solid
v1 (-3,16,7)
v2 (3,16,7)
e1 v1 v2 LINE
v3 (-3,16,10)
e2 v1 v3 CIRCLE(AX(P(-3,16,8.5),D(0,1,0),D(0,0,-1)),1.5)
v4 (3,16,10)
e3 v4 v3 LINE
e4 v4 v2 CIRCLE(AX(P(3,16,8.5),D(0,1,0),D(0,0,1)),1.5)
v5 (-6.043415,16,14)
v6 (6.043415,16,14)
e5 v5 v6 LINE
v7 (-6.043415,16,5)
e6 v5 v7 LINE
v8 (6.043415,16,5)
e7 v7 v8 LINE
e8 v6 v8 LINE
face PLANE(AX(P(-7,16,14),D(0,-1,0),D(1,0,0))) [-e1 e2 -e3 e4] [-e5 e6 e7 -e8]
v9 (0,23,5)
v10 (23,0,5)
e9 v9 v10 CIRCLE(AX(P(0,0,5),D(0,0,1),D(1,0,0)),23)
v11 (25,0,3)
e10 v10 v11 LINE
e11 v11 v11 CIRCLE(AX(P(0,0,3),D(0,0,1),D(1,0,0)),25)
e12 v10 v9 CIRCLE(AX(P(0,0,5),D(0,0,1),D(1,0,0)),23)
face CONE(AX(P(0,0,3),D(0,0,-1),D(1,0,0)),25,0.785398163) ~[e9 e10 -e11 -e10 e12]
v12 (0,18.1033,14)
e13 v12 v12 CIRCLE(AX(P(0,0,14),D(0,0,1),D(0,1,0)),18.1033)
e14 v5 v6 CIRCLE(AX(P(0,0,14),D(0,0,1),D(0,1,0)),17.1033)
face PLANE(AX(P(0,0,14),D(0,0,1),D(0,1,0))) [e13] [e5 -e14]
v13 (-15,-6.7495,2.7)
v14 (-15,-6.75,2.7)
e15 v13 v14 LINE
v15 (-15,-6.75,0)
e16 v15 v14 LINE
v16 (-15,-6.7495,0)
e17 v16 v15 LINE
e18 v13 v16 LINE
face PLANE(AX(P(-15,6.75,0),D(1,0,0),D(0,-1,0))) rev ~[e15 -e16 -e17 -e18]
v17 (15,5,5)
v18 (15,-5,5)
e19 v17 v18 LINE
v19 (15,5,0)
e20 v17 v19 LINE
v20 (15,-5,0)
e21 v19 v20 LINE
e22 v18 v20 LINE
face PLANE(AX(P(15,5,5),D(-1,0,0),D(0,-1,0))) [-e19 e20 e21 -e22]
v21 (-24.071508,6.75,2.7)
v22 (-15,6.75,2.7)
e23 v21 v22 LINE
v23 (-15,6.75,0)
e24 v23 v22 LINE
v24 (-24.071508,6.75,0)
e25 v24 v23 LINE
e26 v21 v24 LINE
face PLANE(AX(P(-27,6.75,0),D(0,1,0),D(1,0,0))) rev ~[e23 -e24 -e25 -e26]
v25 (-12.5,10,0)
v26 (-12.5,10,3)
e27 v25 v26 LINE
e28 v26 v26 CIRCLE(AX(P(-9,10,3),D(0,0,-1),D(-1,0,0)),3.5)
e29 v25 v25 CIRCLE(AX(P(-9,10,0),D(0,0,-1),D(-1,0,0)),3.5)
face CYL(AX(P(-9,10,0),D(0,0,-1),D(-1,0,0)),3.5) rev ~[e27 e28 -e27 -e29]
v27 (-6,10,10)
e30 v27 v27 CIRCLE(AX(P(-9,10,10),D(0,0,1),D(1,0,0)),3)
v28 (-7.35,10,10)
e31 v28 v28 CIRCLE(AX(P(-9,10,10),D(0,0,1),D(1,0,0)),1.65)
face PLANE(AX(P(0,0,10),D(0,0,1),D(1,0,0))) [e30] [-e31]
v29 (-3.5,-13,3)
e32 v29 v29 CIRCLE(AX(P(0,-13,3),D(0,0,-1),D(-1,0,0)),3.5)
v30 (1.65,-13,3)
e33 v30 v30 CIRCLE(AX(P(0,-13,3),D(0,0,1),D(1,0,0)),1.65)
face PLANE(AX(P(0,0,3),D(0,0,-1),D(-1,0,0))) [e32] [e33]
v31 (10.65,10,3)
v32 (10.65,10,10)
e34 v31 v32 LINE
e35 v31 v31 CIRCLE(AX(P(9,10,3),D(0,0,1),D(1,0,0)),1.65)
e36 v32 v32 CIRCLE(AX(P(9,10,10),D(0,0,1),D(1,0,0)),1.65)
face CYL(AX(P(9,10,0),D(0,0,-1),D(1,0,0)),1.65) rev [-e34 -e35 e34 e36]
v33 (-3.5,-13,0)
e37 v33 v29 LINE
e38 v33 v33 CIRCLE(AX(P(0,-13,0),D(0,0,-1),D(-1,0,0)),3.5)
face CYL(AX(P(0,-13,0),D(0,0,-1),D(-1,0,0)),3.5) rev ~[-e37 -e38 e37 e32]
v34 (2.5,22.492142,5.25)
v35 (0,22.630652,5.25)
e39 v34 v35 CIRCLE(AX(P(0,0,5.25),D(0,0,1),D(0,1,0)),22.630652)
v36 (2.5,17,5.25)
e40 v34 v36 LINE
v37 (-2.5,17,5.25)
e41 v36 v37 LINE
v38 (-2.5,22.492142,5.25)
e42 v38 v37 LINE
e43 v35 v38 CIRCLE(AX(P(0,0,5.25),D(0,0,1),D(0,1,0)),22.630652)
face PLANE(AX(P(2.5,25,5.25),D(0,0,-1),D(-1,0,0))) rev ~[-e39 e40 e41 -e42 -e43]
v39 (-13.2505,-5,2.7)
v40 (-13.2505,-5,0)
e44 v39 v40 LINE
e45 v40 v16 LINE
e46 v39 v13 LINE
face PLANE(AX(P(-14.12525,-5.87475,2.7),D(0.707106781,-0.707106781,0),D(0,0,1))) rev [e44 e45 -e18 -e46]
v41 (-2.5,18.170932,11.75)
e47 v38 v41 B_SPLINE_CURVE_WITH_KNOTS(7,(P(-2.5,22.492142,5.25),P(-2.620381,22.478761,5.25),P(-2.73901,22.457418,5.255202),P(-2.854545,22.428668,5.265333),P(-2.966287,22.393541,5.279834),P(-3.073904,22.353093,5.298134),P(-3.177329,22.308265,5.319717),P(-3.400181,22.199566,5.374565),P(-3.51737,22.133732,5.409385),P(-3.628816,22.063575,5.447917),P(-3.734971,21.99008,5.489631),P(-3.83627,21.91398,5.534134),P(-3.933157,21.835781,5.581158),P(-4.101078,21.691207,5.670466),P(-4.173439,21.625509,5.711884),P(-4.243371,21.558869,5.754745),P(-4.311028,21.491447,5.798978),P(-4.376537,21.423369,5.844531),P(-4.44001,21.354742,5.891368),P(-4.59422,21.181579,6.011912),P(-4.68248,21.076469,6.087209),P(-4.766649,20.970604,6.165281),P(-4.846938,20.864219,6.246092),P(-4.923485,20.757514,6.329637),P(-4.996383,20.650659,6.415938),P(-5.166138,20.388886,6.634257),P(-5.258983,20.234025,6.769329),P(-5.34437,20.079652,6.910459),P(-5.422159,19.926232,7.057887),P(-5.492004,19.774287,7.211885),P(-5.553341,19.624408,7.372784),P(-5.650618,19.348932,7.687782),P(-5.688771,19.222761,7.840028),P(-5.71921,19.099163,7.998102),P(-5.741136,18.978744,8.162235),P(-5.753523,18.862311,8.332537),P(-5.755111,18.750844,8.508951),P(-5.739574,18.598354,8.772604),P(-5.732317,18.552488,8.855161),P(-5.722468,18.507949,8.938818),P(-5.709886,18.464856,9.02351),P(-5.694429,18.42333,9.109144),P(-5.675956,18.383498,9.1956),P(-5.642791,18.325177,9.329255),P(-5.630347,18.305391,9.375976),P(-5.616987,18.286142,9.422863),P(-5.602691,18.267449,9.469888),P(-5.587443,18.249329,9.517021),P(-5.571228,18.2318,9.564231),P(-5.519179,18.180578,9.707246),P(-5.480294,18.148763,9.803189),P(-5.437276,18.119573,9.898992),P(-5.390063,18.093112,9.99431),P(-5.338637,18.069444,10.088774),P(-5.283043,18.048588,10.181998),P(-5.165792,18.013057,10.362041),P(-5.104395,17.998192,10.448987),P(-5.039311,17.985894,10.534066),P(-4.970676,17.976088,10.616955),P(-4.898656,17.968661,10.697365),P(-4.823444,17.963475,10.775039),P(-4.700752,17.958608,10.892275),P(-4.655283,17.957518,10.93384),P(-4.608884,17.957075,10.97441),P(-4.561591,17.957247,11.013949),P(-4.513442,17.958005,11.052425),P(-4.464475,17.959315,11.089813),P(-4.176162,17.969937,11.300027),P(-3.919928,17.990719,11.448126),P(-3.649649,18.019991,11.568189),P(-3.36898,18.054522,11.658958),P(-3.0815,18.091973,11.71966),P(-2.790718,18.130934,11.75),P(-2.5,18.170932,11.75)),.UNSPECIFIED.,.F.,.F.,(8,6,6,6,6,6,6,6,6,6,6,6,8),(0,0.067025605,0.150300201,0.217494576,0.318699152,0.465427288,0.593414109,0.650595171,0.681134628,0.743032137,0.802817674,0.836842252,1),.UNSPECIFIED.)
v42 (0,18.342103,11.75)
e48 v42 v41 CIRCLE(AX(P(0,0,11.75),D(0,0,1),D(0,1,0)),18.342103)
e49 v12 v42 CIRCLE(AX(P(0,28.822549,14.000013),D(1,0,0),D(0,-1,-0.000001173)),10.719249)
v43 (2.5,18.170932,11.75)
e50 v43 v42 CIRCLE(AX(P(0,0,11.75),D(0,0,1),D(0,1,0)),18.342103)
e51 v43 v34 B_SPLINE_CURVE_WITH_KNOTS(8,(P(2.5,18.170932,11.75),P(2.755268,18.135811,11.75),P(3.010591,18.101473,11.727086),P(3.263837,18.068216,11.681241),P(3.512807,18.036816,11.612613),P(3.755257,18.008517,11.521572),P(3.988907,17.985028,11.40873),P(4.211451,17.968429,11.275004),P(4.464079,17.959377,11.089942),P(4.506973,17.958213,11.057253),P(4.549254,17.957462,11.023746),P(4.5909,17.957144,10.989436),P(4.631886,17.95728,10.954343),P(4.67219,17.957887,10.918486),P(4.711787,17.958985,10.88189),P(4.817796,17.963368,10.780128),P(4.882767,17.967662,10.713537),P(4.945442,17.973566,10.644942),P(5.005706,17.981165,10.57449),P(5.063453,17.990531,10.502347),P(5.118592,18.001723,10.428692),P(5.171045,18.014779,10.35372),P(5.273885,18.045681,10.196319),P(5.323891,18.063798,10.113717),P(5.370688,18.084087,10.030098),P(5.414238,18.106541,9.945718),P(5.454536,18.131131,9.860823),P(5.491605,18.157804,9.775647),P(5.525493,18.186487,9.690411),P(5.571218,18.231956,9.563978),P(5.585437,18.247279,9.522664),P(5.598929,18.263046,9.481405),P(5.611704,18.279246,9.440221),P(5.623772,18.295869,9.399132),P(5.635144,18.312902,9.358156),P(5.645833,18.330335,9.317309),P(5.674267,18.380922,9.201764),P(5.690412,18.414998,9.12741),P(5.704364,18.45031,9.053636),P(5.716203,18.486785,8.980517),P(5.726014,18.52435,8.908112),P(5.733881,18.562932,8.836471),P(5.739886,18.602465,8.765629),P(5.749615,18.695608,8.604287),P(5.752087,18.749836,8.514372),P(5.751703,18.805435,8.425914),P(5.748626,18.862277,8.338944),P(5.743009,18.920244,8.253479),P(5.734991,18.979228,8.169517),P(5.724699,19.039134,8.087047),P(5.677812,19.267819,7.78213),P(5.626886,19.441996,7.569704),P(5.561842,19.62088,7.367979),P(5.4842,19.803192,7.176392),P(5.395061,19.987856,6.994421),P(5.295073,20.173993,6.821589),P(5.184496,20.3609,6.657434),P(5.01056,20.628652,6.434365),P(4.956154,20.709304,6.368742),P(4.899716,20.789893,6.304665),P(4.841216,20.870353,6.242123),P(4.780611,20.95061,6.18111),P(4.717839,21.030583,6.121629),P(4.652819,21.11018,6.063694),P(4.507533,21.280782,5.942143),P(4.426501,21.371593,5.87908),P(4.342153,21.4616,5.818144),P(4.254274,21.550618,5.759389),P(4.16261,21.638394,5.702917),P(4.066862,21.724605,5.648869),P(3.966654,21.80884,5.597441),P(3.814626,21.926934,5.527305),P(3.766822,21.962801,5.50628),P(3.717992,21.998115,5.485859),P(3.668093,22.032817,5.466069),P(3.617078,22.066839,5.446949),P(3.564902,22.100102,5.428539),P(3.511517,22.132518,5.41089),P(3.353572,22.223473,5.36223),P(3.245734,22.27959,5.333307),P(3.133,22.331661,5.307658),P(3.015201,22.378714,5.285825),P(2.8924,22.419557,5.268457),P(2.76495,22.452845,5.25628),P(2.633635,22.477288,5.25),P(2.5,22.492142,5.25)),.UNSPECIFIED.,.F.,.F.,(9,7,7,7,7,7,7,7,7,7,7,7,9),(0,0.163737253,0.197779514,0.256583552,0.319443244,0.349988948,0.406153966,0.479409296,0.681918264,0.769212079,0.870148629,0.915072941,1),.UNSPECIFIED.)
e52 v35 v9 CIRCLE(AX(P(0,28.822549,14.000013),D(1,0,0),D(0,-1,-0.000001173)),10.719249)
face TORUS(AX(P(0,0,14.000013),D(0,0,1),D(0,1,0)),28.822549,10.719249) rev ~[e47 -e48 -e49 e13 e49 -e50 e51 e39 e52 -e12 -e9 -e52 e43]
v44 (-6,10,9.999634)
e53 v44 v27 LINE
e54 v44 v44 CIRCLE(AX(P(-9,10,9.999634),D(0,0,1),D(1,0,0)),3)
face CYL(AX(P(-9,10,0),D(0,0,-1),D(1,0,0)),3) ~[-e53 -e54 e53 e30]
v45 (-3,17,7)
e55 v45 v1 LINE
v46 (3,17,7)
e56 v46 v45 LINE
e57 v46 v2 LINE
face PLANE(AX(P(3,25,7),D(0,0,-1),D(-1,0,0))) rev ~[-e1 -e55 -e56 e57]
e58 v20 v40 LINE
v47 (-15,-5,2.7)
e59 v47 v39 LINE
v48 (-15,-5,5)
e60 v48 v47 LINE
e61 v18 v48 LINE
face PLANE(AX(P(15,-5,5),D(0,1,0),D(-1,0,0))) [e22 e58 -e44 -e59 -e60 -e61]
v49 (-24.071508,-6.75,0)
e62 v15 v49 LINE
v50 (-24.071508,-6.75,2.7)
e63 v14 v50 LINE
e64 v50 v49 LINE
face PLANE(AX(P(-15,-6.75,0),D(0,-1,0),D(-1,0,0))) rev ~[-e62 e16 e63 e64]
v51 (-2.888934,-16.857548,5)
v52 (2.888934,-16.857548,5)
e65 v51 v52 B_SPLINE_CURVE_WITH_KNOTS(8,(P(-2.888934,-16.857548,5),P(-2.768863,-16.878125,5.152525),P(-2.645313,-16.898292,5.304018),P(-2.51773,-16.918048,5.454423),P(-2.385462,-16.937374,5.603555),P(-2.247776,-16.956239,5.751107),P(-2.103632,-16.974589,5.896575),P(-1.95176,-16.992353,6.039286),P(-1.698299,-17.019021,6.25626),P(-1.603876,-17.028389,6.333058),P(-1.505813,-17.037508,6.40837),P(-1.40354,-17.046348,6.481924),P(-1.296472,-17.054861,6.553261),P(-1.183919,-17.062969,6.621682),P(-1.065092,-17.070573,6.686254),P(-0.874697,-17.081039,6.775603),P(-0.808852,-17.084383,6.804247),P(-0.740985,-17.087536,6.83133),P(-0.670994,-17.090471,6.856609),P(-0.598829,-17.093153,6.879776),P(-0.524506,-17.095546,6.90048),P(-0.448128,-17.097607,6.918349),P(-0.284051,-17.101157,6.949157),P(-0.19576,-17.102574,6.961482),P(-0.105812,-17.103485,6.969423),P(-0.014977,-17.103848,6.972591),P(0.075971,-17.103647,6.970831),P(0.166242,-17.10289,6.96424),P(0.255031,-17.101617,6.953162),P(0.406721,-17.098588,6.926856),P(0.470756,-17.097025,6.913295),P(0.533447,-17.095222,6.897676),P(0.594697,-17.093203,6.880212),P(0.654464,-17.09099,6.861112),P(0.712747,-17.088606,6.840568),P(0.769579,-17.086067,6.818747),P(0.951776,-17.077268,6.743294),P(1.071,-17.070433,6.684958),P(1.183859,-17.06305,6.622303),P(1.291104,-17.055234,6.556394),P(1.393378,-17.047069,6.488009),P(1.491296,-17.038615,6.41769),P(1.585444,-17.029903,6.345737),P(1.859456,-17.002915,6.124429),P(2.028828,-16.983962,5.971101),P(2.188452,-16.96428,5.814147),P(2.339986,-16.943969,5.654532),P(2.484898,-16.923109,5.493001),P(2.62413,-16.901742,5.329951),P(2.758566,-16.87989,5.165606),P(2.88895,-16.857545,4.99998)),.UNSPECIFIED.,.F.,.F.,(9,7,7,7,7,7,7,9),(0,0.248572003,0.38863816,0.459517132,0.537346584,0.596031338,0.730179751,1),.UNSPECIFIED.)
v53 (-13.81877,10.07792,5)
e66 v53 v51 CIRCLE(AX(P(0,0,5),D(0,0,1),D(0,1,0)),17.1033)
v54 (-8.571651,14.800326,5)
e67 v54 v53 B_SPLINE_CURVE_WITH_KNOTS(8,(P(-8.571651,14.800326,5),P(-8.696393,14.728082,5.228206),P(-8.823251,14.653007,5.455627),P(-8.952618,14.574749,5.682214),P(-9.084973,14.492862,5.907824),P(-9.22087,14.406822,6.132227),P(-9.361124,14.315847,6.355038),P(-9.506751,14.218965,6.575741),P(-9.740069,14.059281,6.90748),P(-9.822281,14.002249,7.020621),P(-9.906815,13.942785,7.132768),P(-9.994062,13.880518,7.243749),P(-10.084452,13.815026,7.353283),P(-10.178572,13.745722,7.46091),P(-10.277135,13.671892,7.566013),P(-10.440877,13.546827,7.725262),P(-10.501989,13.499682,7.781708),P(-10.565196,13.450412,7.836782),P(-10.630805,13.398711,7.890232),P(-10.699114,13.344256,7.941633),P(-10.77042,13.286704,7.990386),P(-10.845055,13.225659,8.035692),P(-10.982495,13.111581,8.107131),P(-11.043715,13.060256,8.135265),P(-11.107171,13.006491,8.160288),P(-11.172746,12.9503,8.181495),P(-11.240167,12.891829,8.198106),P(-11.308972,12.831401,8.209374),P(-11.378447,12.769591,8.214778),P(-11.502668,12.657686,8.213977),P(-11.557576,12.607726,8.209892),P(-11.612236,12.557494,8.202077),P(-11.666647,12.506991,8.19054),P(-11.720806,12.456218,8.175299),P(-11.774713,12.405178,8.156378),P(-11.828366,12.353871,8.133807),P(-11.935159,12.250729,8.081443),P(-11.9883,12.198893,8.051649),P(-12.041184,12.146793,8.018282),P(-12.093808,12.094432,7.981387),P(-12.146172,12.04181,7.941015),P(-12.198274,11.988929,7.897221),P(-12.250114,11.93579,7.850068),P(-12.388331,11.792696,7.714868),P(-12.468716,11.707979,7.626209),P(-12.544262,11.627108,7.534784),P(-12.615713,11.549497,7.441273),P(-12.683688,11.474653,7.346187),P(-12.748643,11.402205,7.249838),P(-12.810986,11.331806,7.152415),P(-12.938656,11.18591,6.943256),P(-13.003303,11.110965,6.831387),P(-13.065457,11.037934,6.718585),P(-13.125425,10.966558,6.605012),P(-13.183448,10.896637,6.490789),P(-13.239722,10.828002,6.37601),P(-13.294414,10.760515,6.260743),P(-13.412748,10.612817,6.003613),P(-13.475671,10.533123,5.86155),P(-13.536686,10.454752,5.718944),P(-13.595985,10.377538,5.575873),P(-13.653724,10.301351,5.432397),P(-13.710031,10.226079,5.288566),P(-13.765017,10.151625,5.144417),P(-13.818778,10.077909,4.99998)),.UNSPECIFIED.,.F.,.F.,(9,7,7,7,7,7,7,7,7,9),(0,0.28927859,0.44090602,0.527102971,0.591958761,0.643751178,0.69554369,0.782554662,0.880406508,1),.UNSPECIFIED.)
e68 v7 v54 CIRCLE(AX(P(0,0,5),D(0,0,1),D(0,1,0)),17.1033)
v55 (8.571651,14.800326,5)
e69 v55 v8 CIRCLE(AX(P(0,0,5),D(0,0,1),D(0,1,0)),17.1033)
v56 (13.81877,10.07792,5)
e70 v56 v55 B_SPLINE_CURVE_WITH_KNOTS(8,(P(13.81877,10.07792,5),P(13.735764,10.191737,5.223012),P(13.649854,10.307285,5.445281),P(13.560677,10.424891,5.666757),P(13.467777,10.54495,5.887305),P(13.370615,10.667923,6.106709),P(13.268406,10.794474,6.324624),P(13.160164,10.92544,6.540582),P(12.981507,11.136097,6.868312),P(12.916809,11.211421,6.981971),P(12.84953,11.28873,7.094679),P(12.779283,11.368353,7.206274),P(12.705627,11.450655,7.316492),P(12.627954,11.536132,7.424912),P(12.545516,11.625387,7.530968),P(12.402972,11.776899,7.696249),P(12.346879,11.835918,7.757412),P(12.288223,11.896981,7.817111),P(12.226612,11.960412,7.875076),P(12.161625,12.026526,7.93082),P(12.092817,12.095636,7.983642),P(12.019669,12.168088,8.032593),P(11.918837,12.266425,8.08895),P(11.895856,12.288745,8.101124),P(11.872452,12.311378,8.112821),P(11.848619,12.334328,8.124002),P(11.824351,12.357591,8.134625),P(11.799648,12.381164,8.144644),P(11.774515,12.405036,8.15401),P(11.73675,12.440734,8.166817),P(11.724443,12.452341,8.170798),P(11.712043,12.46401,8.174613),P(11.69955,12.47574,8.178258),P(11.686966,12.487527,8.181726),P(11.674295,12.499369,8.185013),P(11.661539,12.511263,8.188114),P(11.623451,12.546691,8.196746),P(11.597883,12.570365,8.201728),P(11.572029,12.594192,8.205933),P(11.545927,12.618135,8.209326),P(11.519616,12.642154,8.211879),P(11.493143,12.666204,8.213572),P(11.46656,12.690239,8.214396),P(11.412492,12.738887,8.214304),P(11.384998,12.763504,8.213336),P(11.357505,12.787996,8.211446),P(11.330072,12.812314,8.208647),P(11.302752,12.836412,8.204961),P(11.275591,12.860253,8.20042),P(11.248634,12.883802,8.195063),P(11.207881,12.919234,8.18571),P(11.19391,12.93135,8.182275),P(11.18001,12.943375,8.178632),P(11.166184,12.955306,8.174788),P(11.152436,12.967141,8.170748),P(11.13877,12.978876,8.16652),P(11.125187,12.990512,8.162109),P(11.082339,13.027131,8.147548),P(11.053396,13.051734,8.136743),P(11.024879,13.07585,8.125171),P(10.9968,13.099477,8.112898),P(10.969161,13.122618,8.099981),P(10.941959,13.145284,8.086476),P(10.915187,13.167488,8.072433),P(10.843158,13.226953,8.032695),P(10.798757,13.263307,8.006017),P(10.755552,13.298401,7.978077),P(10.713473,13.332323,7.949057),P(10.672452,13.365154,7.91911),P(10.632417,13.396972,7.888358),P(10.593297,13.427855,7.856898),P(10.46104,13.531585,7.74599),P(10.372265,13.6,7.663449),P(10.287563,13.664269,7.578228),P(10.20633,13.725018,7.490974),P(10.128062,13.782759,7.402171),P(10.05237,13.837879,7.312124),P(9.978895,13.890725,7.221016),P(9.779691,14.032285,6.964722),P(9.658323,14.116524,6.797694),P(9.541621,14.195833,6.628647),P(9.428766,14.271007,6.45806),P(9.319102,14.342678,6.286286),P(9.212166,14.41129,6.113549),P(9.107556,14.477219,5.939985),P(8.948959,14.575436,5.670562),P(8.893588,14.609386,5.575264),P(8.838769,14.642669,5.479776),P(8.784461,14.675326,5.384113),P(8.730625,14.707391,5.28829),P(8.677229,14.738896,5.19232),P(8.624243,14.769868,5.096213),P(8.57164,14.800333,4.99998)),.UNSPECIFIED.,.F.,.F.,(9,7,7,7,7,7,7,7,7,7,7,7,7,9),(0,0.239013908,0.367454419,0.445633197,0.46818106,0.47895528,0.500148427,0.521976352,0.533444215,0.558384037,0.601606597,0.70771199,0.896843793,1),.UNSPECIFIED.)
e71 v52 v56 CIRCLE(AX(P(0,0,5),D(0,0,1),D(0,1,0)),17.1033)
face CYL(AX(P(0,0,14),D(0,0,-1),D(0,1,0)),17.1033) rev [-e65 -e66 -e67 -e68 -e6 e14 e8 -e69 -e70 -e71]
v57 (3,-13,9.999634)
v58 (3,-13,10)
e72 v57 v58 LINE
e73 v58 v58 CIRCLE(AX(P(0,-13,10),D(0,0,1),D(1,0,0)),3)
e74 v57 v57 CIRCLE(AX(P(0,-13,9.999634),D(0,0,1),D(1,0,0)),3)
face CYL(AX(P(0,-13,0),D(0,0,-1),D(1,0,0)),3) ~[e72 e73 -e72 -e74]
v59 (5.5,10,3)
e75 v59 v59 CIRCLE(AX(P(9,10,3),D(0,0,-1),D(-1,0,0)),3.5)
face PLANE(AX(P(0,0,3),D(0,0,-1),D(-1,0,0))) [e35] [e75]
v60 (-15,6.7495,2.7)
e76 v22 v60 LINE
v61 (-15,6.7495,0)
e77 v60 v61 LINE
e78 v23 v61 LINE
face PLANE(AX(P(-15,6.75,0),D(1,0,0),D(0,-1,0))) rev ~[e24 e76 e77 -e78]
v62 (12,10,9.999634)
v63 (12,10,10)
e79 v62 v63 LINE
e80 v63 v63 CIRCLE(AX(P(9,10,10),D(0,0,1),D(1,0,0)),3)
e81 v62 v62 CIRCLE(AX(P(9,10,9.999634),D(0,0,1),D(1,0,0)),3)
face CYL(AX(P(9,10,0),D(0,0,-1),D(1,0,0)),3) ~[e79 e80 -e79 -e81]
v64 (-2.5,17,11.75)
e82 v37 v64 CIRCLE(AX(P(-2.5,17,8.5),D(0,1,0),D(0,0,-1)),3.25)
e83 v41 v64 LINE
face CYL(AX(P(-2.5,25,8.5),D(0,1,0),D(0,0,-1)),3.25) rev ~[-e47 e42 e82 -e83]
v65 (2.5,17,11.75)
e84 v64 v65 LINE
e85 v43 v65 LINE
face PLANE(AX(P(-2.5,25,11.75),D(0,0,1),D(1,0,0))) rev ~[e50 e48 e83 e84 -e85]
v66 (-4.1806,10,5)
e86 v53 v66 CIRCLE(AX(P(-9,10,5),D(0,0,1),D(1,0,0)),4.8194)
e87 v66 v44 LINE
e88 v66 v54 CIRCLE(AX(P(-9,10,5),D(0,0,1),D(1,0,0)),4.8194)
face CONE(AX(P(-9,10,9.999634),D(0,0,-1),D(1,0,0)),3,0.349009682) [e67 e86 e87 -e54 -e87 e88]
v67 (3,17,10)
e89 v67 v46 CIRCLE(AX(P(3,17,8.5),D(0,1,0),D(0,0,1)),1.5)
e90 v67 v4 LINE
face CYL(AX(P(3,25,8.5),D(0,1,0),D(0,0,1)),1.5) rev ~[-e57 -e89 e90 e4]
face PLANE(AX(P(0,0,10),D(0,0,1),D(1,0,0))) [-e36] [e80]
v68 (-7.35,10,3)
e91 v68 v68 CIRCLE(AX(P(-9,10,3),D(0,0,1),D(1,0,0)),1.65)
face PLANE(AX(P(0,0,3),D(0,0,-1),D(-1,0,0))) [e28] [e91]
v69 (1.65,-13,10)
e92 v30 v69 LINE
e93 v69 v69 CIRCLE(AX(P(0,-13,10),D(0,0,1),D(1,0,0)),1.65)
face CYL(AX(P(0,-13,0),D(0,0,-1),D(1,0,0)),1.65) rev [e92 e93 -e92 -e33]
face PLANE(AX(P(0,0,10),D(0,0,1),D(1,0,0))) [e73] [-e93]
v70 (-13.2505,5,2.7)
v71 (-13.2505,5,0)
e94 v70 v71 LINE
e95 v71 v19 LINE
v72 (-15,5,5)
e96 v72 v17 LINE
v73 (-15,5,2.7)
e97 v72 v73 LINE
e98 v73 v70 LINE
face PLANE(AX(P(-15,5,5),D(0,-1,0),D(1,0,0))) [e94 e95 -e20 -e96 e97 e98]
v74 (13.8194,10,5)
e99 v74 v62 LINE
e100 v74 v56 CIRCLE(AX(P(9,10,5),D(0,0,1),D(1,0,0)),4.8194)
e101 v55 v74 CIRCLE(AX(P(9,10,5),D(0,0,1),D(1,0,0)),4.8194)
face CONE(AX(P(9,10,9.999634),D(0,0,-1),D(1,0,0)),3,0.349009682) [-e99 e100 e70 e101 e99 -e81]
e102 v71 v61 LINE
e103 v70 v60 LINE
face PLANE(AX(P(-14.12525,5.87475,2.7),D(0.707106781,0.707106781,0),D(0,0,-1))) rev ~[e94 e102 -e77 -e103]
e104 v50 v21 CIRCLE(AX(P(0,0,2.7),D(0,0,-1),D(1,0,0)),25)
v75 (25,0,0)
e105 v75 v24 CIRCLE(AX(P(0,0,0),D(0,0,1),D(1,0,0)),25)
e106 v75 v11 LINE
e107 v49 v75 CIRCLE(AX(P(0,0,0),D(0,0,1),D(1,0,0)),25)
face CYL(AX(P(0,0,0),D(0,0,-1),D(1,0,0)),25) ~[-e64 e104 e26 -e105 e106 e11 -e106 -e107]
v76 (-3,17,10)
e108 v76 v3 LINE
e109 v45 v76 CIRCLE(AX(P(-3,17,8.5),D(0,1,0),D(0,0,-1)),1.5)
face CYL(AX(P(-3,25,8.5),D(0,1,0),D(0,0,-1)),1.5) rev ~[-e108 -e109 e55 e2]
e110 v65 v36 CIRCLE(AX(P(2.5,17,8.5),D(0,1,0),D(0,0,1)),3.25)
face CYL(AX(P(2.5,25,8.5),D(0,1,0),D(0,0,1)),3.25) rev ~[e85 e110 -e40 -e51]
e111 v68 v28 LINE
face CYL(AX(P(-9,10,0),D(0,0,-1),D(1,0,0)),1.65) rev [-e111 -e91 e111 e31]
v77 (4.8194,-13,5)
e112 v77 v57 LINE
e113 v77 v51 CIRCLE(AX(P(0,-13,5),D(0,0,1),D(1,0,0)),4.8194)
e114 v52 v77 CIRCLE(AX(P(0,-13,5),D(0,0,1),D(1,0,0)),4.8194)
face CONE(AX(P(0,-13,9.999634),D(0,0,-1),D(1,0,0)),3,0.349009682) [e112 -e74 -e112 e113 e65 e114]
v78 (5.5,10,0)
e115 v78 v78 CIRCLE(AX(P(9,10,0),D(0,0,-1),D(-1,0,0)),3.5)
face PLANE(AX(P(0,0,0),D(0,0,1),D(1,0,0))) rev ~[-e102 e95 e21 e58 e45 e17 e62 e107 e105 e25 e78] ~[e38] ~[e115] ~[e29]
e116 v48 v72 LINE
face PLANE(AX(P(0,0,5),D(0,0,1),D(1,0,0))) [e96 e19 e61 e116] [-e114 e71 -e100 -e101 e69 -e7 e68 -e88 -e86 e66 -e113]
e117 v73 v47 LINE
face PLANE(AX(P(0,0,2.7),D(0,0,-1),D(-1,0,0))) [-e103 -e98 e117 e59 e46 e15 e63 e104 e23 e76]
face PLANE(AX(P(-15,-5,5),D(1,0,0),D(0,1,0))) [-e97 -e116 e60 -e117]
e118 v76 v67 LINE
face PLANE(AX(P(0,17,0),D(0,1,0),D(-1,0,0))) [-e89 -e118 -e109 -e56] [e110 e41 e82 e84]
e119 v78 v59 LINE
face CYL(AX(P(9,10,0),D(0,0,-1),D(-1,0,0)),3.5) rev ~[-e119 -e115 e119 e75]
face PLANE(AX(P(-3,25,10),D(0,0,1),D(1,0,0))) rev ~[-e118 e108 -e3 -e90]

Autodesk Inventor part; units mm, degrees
ref_plane "YZ Plane" through (0, 0, 0) normal (1, 0, 0) x (0, 1, 0)
ref_plane "XY Plane" through (0, 0, 0) normal (0, 0, 1) x (1, 0, 0)
sketch "Sketch1" plane through (0, 0, 0) normal (0, 0, 1) x (1, 0, 0)
  circle A0 centre (0, 0) radius 25
  circle A1 centre (0, -13) radius 1.65
  circle A2 centre (-9, 10) radius 1.65
  circle A3 centre (9, 10) radius 1.65
  circle A4 centre (-9, 10) radius 3
  circle A5 centre (9, 10) radius 3
  circle A6 centre (0, -13) radius 3
  dimension "d0" = 50
  dimension "d1" = 13
  dimension "d2" = 10
  dimension "d3" = 9
  dimension "d4" = 9
  dimension "d5" = 3.3
  dimension "d6" = 6
extrude "Extrusion1" add sketch "Sketch1" along normal blind 5 contours A0
extrude "Extrusion2" add sketch "Sketch1" along normal blind 10 contours A4 | A5 | A6
sketch "Sketch2" plane through (0, 0, 0) normal (0, 0, -1) x (-1, 0, 0)
  circle A0 centre (0, -13) radius 1.65 projected
  circle A1 centre (-9, 10) radius 1.65 projected
  circle A2 centre (9, 10) radius 1.65 projected
  circle A3 centre (0, 0) radius 25 projected
  circle A4 centre (-9, 10) radius 3.5
  circle A5 centre (9, 10) radius 3.5
  circle A6 centre (0, -13) radius 3.5
  dimension "d11" = 7
extrude "Extrusion3" cut sketch "Sketch2" against normal blind 3 contours A4 | A5 | A6
chamfer "Chamfer1" distance 1.8199 angle 70 3 edges at (-3, -13, 5) (-12, 10, 5) (6, 10, 5) measured on face at (12.0972, -3.5223, 5)
chamfer "Chamfer2" distance 2 angle 45 1 edges at (-25, 0, 5)
sketch "Sketch3" plane through (0, 0, 0) normal (1, 0, 0) x (0, 1, 0)
  line L0 (14.8199, 5) -> (5.1801, 5) projected
  line L1 (-8.1801, 5) -> (-17.8199, 5) projected
  line L2 (14.8199, 5) -> (5.1801, 5) projected
  line L3 (-23, 5) -> (23, 5) projected
  line L4 (25, 0) -> (25, 3) projected
  line L5 (25, 3) -> (-25, 3) projected
  line L6 (-23, 5) -> (23, 5) projected
  line L7 (25, 3) -> (23, 5) projected
  arc A0 (18.1033, 14) -> (23, 5) centre (28.8225, 14) ccw
  line L8 (18.1033, 14) -> (17.1033, 14)
  line L9 (17.1033, 14) -> (17.1033, 5)
  line L10 (0, -3.8) -> (0, 22.8) projected
  point P0 (0, 0)
  dimension "d20" = 9
  dimension "d21" = 18.1033
  dimension "d22" = 1
revolve "Revolution1" add sketch "Sketch3" angle 360 about axis through (0, 0, -10) along (0, 0, 1) contours L9 L8 A0 L3
sketch "Sketch5" plane through (0, 0, 14) normal (0, 0, 1) x (1, 0, 0)
  line L0 (4, 17.5) -> (-4, 17.5)
  line L1 (-4, 17.5) -> (-7, 16)
  line L2 (-7, 16) -> (7, 16)
  line L3 (7, 16) -> (4, 17.5)
  point P0 (0, 0)
  point P1 (0, 16)
  point P2 (0, 17.5)
  dimension "d37" = 16
  dimension "d39" = 14
  dimension "d42" = 8
  dimension "d43" = 1.5
extrude "Extrusion6" add sketch "Sketch5" against normal up to surface (9 mm away)
ref_plane "Work Plane1" through (0, 25, 0) normal (0, 1, 0) x (-1, 0, 0)
sketch "Sketch4" plane through (0, 25, 0) normal (0, 1, 0) x (-1, 0, 0)
  line L0 (-8.5709, 5) -> (-6.0434, 5) projected
  line L1 (13.8192, 5) -> (8.5709, 5) projected
  line L2 (13.8192, 5) -> (2.8899, 5) projected
  line L3 (-2.8899, 5) -> (2.8899, 5) projected
  line L4 (-2.8899, 5) -> (-13.8192, 5) projected
  line L5 (-8.5709, 5) -> (-13.8192, 5) projected
  line L6 (-2.5, 8.5) -> (2.5, 8.5) construction
  line L7 (3.5, 3) -> (-3.5, 3) projected
  line L8 (-2.5, 5.25) -> (2.5, 5.25)
  line L9 (2.5, 11.75) -> (-2.5, 11.75)
  arc A0 (-2.5, 11.75) -> (-2.5, 5.25) centre (-2.5, 8.5) ccw
  arc A1 (2.5, 5.25) -> (2.5, 11.75) centre (2.5, 8.5) ccw
  line L10 (-3, 8.5) -> (3, 8.5) construction
  line L11 (-3, 7) -> (3, 7)
  line L12 (3, 10) -> (-3, 10)
  arc A2 (-3, 10) -> (-3, 7) centre (-3, 8.5) ccw
  arc A3 (3, 7) -> (3, 10) centre (3, 8.5) ccw
  line L13 (-6.0434, 5) -> (6.0434, 5) projected
  line L14 (6.0434, 5) -> (8.5709, 5) projected
  point P0 (0, 0)
  point P1 (0, 5)
  point P2 (0, 8.5)
  point P3 (0, 5)
  point P4 (0, 8.5)
  dimension "d30" = 6.5
  dimension "d31" = 11.5
  dimension "d32" = 3.5
  dimension "d33" = 3
  dimension "d34" = 9
extrude "Extrusion4" cut sketch "Sketch4" against normal blind 10 contours A2 L12 A3 L11
extrude "Extrusion5" cut sketch "Sketch4" against normal blind 8
sketch "Sketch7" plane through (0, 0, 5) normal (0, 0, 1) x (1, 0, 0)
  line L0 (-15, 5) -> (15, 5)
  line L1 (15, 5) -> (15, -5)
  line L2 (15, -5) -> (-15, -5)
  line L3 (-15, -5) -> (-15, 5)
  point P0 (0, 0)
  point P1 (0, 5)
  point P2 (-15, 0)
  dimension "d50" = 30
  dimension "d51" = 10
extrude "Extrusion8" cut sketch "Sketch7" against normal through all
sketch "Sketch8" plane through (0, 0, 0) normal (0, 0, -1) x (-1, 0, 0)
  line L0 (27, 6.75) -> (15, 6.75)
  line L1 (15, 6.75) -> (15, -6.75)
  line L2 (15, -6.75) -> (27, -6.75)
  line L3 (27, -6.75) -> (27, 6.75)
  point P0 (0, 0)
  point P1 (15, 5)
  point P2 (15, 0)
  dimension "d54" = 13.5
  dimension "d55" = 12
extrude "Extrusion9" cut sketch "Sketch8" against normal blind 2.7
chamfer "Chamfer3" distance 1.75 angle 45 2 edges at (-15, 5, 1.35) (-15, -5, 1.35)
equation "\"d4\" = d3"
properties part number "Baseplate"
